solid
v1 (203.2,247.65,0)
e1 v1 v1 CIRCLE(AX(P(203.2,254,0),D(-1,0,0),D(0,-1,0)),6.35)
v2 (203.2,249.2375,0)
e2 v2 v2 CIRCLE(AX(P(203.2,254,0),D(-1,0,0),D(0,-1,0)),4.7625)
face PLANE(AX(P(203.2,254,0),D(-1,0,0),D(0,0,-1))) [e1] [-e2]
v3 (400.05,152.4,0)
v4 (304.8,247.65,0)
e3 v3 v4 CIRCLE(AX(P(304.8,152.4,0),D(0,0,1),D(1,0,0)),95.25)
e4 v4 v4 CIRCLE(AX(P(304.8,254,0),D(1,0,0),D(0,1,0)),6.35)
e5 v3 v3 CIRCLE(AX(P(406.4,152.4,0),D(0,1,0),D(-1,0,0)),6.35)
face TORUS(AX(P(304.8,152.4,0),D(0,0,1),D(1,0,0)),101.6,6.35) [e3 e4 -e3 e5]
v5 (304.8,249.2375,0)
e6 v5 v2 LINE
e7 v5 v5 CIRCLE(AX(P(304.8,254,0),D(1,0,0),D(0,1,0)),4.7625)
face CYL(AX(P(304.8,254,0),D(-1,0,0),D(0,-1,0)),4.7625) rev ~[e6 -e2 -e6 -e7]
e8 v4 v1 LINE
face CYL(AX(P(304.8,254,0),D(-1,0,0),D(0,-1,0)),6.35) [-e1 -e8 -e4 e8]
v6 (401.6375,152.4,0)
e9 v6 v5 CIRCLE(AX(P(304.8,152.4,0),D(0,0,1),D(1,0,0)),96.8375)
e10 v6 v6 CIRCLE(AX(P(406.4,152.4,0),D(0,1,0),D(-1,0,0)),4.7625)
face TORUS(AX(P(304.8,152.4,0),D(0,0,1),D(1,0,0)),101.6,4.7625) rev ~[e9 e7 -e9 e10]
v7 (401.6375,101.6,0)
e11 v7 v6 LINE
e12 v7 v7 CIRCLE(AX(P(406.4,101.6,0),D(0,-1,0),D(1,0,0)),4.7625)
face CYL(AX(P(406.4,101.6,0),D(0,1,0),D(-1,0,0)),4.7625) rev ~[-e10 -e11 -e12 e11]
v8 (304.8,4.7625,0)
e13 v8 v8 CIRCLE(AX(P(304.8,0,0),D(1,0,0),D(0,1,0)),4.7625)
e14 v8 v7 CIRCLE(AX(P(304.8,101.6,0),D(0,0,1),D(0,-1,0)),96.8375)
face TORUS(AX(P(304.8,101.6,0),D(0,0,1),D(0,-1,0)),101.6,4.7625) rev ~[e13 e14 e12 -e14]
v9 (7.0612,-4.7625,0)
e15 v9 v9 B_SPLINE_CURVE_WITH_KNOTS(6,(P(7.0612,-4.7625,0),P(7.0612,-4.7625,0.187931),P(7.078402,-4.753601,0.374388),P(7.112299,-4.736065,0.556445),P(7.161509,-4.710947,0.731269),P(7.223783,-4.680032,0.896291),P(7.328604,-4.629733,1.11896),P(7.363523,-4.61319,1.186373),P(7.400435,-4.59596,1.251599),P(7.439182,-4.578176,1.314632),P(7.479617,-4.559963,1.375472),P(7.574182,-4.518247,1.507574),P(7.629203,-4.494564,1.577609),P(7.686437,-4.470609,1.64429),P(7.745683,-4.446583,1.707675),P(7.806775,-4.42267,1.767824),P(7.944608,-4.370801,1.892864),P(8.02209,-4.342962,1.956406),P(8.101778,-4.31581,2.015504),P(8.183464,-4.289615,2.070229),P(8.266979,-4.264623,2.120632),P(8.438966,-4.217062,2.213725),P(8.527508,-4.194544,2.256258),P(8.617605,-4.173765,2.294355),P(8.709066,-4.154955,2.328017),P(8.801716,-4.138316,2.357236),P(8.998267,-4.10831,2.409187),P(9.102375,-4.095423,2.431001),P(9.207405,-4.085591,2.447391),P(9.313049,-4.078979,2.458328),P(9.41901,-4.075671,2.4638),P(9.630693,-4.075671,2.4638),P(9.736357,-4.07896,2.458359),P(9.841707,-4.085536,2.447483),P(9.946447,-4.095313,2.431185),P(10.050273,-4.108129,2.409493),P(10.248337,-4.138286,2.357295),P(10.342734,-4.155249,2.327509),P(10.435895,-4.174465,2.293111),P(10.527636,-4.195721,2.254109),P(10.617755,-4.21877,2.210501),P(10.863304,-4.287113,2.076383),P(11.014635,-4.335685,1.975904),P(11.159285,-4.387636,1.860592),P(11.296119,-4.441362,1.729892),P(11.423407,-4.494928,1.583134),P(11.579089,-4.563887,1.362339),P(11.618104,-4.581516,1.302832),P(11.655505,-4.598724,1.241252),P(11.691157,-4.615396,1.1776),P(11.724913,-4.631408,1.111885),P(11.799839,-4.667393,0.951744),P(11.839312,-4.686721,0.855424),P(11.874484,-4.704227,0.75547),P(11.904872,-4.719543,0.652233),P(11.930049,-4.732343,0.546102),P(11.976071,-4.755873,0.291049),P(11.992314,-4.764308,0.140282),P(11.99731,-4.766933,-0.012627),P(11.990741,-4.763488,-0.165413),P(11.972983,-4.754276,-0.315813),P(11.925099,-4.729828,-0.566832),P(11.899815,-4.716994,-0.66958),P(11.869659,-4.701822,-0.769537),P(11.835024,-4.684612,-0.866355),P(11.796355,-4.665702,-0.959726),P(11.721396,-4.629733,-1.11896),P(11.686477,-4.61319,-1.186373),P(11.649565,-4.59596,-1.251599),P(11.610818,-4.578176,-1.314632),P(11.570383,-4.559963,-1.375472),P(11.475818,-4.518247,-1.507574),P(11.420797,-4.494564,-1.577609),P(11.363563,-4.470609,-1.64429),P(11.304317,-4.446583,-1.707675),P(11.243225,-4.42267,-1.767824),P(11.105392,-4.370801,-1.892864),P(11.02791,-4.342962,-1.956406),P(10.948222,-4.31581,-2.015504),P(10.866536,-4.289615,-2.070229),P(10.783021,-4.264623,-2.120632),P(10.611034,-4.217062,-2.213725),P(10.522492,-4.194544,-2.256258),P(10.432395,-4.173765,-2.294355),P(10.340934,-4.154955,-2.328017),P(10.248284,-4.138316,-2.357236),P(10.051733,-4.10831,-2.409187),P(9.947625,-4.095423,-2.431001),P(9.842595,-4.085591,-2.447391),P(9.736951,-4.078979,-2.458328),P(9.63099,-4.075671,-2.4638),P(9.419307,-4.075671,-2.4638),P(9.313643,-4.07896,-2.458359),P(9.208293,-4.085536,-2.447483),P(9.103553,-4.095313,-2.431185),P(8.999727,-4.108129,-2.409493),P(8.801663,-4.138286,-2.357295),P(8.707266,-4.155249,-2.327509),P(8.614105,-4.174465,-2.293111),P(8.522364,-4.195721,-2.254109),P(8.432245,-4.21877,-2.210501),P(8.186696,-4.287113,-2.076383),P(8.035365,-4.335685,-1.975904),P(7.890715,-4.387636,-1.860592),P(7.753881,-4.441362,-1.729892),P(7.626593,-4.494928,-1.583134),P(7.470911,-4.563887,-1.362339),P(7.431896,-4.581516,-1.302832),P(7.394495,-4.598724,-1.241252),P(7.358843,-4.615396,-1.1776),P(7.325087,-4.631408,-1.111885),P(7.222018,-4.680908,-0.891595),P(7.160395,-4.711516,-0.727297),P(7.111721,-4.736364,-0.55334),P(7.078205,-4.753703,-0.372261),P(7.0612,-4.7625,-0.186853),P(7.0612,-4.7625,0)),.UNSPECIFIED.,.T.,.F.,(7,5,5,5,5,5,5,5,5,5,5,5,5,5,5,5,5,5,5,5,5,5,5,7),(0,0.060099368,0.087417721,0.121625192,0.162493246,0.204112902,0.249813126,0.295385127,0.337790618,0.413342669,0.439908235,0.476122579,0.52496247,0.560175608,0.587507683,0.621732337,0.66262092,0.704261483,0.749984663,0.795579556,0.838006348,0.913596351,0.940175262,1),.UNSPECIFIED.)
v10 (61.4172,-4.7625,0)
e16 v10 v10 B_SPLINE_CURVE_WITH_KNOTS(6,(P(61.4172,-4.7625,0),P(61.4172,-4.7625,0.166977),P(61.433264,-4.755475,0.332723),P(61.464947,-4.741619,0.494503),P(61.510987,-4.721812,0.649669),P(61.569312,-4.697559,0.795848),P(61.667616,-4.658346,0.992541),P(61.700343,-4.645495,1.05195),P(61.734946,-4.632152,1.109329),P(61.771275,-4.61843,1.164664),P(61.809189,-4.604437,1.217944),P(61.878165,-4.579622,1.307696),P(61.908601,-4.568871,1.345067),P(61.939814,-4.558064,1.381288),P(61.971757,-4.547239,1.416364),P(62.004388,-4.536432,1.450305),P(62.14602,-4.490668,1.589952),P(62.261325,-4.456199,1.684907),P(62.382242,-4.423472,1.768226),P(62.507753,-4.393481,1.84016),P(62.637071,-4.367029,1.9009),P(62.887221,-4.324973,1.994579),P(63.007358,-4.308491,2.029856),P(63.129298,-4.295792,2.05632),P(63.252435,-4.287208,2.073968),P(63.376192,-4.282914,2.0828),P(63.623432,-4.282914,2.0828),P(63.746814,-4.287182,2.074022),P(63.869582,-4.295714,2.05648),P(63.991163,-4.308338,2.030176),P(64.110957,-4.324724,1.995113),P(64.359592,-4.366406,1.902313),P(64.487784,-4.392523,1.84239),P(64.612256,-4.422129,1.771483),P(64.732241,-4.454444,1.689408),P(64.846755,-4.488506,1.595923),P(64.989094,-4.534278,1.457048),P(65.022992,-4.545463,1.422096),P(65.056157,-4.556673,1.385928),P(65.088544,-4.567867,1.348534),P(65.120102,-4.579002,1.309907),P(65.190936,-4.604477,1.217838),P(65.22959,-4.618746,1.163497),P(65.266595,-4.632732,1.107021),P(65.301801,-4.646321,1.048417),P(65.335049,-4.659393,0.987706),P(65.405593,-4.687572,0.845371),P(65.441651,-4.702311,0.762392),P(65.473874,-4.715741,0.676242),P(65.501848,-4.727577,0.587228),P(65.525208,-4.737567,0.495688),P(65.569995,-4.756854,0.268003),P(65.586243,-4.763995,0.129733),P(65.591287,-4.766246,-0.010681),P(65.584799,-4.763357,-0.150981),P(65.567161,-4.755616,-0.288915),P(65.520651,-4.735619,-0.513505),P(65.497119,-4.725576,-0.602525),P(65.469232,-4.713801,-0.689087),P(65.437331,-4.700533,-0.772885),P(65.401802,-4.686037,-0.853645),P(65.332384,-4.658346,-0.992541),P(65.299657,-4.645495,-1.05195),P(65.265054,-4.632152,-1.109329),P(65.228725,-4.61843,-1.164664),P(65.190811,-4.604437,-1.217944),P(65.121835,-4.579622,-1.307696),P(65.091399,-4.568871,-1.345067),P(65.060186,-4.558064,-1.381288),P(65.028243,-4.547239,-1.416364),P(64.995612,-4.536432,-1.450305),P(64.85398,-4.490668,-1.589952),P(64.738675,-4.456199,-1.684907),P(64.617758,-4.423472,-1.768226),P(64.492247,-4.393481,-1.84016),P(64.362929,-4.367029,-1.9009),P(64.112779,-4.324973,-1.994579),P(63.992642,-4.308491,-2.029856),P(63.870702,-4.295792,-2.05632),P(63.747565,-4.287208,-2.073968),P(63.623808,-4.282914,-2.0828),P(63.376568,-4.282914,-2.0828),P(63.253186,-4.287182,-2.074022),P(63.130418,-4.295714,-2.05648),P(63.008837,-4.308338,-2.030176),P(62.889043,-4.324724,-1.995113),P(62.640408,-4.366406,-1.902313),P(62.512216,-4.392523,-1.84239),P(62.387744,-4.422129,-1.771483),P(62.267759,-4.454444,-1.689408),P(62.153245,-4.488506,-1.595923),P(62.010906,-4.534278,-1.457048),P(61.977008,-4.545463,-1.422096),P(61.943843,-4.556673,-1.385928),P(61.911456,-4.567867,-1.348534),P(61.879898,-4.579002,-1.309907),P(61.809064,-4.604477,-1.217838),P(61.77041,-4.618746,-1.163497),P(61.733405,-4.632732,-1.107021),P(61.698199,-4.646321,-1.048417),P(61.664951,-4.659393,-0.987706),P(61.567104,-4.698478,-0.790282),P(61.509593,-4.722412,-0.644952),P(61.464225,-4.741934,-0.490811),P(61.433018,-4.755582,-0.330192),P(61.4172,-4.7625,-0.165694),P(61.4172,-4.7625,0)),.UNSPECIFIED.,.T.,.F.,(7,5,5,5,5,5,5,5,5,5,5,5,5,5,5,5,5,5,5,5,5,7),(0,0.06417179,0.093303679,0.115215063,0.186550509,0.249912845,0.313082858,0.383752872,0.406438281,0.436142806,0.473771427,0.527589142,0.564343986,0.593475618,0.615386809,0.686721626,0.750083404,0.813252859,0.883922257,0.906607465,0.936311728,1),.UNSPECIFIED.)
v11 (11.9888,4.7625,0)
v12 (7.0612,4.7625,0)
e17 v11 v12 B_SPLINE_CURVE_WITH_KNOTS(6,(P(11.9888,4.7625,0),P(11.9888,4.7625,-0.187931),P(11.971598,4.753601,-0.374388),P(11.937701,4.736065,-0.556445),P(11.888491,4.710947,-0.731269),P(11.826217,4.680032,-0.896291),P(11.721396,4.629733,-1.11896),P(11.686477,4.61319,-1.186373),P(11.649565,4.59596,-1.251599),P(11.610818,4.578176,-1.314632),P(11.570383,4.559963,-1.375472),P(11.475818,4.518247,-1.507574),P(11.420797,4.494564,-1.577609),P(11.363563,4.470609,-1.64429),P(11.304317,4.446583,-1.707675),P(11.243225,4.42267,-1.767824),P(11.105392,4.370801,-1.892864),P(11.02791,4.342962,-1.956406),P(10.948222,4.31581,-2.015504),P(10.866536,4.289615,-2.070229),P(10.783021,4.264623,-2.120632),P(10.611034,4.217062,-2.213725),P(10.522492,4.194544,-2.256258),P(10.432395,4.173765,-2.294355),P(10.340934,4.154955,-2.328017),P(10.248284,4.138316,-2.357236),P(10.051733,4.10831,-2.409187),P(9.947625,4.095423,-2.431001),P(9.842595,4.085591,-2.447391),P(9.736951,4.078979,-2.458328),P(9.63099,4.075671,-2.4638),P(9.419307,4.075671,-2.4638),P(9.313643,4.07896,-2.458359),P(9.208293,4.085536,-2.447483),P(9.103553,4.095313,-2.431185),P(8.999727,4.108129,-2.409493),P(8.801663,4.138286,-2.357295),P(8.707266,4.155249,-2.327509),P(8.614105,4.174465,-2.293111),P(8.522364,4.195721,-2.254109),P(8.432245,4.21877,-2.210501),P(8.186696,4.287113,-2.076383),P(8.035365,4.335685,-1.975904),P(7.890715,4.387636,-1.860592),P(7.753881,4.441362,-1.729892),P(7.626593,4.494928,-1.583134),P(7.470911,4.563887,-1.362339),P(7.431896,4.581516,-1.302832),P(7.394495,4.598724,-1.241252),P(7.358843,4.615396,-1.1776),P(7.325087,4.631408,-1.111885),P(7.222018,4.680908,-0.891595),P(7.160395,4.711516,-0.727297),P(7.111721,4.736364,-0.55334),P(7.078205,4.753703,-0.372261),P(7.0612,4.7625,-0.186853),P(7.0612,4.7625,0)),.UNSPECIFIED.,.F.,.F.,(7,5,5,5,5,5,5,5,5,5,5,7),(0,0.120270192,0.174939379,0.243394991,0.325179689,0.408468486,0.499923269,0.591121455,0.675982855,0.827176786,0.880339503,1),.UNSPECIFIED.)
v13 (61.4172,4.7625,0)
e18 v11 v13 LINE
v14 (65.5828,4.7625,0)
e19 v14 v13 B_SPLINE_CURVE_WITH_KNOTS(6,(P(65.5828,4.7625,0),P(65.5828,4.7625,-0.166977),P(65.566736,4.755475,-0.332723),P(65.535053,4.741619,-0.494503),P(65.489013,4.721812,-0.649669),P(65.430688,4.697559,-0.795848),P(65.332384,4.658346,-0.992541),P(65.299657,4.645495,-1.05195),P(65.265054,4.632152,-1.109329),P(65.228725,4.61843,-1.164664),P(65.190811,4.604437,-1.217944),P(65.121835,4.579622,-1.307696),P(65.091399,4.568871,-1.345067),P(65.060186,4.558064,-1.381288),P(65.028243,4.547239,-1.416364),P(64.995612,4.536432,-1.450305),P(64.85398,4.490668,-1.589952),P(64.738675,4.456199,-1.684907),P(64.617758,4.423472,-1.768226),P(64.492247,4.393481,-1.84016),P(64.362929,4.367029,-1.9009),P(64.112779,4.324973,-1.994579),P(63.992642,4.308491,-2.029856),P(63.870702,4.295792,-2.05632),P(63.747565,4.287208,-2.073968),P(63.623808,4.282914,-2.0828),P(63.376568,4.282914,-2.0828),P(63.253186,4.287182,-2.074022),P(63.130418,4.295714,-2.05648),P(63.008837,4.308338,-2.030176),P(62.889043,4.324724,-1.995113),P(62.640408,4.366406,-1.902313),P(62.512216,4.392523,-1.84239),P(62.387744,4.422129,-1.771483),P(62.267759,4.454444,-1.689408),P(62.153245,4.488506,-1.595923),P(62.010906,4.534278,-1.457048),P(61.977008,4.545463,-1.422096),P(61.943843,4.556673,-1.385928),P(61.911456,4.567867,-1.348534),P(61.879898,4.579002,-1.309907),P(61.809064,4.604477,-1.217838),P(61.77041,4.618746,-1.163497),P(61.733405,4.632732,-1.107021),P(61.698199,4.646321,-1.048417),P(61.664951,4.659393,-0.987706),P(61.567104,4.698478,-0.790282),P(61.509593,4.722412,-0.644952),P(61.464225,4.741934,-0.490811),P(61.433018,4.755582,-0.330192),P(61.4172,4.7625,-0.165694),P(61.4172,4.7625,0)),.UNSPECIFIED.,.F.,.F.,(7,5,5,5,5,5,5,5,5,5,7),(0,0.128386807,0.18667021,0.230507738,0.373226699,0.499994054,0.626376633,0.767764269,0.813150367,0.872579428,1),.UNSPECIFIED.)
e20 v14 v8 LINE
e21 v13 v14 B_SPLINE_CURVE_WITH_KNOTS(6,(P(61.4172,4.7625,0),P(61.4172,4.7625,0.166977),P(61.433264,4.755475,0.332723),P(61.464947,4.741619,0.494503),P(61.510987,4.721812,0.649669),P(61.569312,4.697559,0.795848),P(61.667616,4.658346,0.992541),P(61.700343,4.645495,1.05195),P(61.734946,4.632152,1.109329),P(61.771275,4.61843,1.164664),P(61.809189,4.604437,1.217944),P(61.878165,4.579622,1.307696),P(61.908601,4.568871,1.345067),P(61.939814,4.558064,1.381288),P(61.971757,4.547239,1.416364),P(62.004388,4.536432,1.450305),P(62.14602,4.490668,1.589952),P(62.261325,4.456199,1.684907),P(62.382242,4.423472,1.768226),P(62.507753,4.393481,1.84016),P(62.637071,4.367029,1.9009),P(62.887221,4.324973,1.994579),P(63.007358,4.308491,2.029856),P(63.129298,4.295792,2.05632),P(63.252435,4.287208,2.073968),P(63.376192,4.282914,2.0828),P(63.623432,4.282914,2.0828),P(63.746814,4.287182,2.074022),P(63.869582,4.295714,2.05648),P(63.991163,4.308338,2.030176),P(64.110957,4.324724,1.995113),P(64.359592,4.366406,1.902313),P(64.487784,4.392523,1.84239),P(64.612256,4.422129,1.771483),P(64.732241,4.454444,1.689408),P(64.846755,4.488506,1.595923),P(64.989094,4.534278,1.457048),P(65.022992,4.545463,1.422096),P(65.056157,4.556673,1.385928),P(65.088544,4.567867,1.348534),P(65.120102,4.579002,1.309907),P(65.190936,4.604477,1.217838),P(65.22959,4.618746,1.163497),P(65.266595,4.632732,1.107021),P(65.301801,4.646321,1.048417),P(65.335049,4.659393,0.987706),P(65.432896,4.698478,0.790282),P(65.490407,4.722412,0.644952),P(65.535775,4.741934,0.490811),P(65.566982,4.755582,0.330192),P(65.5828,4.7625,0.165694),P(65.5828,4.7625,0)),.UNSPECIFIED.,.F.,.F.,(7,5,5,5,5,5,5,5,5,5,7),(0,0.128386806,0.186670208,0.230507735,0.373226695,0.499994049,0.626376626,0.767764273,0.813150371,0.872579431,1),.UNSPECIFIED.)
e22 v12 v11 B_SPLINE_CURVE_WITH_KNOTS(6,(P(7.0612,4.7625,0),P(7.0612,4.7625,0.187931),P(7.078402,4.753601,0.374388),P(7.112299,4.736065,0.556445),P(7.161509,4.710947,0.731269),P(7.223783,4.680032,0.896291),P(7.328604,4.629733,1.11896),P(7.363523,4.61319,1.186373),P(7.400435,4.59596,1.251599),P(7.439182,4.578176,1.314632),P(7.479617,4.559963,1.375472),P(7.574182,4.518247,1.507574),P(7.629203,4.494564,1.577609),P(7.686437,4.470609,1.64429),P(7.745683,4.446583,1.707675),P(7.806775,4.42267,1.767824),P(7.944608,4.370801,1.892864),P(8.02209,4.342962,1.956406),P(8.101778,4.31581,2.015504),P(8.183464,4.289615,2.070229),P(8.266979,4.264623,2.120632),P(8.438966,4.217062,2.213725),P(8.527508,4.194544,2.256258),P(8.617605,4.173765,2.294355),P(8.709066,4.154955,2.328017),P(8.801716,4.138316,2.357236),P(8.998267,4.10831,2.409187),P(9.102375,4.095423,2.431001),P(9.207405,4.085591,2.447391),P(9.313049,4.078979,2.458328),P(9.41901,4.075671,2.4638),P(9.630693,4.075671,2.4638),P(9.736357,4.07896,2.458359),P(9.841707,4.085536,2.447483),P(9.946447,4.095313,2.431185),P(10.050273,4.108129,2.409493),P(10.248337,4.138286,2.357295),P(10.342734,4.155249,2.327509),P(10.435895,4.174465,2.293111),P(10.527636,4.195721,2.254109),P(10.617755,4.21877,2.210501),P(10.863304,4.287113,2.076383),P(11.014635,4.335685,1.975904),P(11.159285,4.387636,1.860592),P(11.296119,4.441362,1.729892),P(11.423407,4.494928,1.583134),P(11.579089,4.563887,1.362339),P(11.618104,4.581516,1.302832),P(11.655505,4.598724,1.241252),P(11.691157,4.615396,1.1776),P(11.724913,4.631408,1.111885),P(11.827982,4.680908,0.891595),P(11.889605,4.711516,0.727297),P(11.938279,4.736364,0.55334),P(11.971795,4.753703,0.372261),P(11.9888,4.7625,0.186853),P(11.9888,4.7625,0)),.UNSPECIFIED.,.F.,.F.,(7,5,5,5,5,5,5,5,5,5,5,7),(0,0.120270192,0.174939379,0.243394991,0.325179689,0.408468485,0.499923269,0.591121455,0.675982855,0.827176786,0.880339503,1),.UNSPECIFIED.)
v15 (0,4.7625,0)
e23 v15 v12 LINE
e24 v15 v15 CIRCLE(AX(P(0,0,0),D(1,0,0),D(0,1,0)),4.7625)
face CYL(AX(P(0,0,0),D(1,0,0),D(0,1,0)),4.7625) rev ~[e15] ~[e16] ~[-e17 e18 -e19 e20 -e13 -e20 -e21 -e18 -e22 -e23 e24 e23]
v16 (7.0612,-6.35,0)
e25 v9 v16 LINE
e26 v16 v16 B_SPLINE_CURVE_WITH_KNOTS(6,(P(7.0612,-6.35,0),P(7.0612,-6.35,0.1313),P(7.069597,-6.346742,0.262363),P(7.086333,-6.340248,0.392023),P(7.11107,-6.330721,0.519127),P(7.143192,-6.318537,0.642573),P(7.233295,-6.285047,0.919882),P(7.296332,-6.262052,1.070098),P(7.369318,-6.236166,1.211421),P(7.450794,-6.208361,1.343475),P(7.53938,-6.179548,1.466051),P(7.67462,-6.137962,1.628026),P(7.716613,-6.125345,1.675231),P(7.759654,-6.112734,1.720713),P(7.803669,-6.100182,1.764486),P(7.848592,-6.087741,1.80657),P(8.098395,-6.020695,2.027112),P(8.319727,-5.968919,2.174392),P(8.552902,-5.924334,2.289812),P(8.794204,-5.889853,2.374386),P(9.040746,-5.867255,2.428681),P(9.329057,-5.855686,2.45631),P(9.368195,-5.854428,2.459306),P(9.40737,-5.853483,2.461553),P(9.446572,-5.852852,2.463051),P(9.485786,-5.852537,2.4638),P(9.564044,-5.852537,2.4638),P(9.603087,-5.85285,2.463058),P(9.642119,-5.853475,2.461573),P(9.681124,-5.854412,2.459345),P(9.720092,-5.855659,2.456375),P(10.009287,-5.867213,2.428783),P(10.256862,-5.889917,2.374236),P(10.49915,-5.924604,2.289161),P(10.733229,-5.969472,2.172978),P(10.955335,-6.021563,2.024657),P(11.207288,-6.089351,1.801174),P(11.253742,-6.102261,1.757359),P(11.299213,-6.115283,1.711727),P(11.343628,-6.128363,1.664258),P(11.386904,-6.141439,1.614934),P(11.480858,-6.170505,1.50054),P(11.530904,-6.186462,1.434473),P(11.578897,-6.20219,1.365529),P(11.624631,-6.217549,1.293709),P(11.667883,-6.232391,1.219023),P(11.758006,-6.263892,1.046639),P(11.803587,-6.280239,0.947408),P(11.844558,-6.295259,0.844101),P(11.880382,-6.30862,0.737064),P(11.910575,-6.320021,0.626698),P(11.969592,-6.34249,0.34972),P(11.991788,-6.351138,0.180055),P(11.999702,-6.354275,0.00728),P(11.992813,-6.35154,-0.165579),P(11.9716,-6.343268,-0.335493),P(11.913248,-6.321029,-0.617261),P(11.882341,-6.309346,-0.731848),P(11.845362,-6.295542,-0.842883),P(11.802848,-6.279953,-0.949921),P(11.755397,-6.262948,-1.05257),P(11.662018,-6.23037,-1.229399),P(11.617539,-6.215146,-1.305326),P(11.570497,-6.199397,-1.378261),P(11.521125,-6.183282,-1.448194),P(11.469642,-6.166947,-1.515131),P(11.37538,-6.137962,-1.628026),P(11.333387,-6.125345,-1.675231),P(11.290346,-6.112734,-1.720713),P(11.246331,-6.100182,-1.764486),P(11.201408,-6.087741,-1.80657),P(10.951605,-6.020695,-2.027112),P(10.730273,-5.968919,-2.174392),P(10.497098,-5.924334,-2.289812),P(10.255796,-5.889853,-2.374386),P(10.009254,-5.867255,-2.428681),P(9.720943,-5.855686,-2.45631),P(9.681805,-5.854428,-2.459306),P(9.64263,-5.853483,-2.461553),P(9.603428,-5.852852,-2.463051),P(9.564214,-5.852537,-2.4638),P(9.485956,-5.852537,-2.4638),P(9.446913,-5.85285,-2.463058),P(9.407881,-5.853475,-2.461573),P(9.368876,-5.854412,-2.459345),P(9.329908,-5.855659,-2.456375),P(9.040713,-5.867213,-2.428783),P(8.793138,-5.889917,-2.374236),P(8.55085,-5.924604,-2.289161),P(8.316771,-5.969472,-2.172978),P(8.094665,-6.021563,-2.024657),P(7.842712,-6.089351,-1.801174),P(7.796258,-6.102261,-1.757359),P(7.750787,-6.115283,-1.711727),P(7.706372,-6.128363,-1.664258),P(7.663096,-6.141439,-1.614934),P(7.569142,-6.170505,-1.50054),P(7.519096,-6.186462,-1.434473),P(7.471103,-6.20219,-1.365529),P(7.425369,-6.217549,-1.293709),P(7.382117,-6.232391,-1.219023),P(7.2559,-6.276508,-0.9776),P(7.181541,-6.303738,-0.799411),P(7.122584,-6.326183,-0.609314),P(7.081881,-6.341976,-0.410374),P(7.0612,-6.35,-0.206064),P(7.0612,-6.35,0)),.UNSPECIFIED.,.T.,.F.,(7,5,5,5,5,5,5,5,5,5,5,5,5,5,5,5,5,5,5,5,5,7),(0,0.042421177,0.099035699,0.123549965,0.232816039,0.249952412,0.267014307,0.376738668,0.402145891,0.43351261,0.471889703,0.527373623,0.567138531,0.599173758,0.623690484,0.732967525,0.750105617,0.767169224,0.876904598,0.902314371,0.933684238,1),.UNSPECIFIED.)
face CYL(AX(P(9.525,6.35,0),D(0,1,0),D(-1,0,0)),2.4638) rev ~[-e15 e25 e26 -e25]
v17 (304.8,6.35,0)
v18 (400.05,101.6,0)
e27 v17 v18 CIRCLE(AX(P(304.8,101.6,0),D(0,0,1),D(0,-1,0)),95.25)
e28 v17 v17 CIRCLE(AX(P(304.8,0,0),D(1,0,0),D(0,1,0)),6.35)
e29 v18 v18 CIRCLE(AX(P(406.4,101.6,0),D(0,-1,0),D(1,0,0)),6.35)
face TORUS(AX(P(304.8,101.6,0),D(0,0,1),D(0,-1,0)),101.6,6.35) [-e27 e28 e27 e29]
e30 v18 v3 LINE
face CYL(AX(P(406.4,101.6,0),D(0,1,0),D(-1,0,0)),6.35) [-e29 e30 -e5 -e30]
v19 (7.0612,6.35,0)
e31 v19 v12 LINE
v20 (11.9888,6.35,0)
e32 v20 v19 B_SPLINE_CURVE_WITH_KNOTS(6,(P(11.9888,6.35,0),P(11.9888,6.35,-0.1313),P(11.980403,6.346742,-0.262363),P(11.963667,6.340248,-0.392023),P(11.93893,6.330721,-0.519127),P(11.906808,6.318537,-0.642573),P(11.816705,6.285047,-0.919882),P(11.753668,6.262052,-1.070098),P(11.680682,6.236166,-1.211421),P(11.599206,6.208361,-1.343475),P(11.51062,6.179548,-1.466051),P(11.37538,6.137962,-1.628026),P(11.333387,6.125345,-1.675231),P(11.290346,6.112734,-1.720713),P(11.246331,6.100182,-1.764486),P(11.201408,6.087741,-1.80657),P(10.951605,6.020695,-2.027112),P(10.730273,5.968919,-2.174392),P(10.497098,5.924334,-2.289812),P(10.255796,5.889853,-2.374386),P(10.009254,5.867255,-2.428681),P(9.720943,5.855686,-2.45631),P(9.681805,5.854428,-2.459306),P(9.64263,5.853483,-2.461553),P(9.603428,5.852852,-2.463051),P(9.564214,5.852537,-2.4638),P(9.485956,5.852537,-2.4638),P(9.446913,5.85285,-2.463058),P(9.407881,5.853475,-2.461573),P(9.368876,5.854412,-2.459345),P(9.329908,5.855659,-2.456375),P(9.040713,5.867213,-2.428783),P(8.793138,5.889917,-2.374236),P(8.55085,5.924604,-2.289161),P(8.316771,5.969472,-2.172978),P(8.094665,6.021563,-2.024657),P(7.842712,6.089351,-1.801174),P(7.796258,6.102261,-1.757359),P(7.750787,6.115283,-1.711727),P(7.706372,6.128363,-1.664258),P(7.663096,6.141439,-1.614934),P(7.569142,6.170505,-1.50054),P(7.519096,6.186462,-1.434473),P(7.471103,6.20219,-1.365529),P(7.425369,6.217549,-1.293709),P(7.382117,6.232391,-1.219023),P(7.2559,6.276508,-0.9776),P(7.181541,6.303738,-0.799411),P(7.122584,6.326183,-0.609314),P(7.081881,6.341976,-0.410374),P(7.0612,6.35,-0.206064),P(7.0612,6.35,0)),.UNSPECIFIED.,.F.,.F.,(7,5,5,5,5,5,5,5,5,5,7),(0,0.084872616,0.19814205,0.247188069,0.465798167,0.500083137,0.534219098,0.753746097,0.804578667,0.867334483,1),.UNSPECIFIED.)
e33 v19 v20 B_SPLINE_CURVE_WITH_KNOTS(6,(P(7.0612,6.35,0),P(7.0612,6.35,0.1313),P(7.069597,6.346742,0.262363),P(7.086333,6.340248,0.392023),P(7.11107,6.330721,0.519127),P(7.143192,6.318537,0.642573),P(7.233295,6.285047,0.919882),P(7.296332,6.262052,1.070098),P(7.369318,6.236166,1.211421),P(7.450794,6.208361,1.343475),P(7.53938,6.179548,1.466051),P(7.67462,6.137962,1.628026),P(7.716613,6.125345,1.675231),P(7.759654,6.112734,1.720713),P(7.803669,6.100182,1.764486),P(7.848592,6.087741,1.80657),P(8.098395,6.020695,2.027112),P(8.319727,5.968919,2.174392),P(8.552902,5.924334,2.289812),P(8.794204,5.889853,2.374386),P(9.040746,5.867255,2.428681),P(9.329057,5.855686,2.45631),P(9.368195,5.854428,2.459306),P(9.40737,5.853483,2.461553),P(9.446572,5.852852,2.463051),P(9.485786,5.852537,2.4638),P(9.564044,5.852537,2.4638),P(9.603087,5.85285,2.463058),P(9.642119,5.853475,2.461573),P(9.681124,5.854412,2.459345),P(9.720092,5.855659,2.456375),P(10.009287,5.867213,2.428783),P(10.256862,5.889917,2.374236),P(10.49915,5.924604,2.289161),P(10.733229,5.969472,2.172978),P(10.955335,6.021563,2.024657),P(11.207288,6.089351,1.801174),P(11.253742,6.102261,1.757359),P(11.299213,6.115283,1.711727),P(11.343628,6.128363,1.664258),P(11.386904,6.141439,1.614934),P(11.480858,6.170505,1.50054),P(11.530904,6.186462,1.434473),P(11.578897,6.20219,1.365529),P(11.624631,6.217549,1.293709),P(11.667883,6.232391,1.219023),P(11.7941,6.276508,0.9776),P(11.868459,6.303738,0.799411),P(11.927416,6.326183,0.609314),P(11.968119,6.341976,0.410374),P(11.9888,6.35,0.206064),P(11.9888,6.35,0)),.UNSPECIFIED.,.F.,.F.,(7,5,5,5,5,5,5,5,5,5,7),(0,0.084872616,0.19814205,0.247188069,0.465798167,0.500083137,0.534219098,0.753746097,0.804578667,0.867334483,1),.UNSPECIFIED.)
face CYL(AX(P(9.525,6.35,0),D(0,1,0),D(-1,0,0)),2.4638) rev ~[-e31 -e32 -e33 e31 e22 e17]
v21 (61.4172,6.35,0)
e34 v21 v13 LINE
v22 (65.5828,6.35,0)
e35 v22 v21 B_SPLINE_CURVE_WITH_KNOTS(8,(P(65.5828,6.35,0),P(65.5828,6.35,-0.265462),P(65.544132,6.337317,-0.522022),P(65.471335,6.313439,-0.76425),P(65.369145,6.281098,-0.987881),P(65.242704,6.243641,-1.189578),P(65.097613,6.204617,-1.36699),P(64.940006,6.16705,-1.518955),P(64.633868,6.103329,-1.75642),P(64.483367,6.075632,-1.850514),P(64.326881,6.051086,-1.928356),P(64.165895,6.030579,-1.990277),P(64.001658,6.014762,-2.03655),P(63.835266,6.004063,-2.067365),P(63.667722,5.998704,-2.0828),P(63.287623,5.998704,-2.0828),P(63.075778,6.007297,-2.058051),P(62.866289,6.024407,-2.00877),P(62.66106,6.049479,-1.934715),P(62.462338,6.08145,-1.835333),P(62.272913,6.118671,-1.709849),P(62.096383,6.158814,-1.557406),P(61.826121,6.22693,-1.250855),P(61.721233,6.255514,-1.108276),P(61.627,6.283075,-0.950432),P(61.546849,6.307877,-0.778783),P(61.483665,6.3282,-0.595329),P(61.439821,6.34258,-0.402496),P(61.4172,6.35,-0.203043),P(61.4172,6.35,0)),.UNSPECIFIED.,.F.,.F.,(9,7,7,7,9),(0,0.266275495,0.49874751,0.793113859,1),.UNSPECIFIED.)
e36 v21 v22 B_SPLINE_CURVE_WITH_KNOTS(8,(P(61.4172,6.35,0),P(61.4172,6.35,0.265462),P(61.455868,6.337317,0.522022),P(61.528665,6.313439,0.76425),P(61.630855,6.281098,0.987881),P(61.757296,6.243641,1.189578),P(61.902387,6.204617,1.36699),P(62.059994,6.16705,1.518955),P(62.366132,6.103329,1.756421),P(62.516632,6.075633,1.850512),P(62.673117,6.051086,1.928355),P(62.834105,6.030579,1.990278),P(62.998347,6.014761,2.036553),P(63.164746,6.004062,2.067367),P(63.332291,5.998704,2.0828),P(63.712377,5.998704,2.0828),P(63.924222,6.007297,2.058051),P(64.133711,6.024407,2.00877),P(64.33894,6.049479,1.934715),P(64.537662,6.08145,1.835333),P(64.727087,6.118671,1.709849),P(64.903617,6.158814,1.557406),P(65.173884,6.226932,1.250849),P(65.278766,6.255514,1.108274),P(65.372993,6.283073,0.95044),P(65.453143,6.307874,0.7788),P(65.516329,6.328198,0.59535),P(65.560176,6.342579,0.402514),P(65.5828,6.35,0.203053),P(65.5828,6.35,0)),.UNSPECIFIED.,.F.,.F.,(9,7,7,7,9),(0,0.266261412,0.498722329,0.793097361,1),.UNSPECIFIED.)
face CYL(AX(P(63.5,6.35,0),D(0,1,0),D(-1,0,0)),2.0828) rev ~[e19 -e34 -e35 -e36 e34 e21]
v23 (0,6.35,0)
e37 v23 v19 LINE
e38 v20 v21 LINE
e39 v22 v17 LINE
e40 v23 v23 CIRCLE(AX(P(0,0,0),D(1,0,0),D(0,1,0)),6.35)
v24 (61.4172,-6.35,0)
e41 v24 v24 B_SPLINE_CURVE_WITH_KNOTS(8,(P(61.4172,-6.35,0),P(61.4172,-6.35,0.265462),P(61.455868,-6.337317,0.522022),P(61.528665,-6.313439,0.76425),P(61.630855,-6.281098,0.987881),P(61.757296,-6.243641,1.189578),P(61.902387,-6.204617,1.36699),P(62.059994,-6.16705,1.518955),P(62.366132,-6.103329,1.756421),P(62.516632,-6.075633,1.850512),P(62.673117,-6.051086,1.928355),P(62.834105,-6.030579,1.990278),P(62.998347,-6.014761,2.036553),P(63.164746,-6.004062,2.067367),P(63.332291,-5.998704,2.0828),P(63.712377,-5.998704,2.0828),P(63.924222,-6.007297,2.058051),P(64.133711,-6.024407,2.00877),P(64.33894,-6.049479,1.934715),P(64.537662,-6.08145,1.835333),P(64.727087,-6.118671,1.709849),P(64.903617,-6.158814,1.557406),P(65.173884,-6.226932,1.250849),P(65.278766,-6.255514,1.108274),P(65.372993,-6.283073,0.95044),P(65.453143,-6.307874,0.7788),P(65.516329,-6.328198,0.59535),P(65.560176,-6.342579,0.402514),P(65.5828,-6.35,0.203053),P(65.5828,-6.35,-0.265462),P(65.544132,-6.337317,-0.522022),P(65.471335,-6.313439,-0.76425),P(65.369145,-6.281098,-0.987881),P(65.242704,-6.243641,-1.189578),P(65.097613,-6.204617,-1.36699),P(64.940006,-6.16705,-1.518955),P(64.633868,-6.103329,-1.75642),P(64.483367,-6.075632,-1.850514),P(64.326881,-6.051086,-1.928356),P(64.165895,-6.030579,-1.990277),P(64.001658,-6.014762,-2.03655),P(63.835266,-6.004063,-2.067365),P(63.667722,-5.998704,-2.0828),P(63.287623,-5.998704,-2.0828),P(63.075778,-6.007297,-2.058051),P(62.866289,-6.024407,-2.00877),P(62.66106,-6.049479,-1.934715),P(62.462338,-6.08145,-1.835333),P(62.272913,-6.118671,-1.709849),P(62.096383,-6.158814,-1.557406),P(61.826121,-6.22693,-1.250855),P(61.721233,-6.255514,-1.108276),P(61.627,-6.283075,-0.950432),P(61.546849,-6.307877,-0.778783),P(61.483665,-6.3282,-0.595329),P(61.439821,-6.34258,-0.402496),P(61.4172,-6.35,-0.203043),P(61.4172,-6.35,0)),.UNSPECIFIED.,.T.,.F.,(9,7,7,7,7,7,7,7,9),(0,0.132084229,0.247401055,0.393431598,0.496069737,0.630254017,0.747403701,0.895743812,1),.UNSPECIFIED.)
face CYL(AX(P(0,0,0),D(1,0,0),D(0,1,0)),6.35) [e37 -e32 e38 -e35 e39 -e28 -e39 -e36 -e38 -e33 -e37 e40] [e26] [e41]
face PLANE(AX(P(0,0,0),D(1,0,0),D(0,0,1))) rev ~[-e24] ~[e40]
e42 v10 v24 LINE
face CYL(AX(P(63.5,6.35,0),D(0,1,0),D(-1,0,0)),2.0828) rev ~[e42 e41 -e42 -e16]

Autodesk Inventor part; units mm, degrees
ref_plane "YZ Plane" through (0, 0, 0) normal (1, 0, 0) x (0, 1, 0)
ref_plane "XY Plane" through (0, 0, 0) normal (0, 0, 1) x (1, 0, 0)
sketch "Sketch1" plane through (0, 0, 0) normal (0, 0, 1) x (1, 0, 0)
  line L0 (0, 0) -> (304.8, 0)
  arc A0 (304.8, 0) -> (406.4, 101.6) centre (304.8, 101.6) ccw
  line L1 (406.4, 101.6) -> (406.4, 152.4)
  line L2 (304.8, 0) -> (304.8, 101.6) construction
  line L3 (304.8, 101.6) -> (406.4, 101.6) construction
  arc A1 (406.4, 152.4) -> (304.8, 254) centre (304.8, 152.4) ccw
  line L4 (406.4, 152.4) -> (304.8, 152.4) construction
  line L5 (304.8, 152.4) -> (304.8, 254) construction
  line L6 (304.8, 254) -> (203.2, 254)
  circle A2 centre (668.9835, 281.347) radius 317.5 construction
  dimension "d0" = 304.8
  dimension "d1" = 101.6
  dimension "d2" = 50.8
  dimension "d3" = 101.6
  dimension "d4" = 101.6
  dimension "d7" = 635
sketch "Sketch2" plane through (0, 0, 0) normal (1, 0, 0) x (0, 1, 0)
  circle A0 centre (0, 0) radius 6.35
  circle A1 centre (0, 0) radius 4.7625
  dimension "d5" = 12.7
  dimension "d8" = 9.525
sweep "Sweep1" add profiles "Sketch2" path "Sketch1"
ref_plane "Work Plane1" through (0, 6.35, 0) normal (0, 1, 0) x (-1, 0, 0)
sketch "Sketch3" plane through (0, 6.35, 0) normal (0, 1, 0) x (-1, 0, 0)
  circle A0 centre (-63.5, 0) radius 2.0828
  line L0 (0, 6.35) -> (-304.8, 6.35) projected
  line L1 (0, -6.35) -> (-304.8, -6.35) projected
  line L2 (0, -6.35) -> (0, 6.35) projected
  circle A1 centre (-9.525, 0) radius 2.4638
  point P0 (0, 0)
  dimension "d9" = 4.1656
  dimension "d10" = 63.5
  dimension "d11" = 6.35
  dimension "d14" = 4.9276
  dimension "d15" = 9.525
  dimension "d16" = 6.35
extrude "Extrusion1" cut sketch "Sketch3" against normal blind 25.4
properties part number "Metal Pipe Clamp" material "Aluminum"
